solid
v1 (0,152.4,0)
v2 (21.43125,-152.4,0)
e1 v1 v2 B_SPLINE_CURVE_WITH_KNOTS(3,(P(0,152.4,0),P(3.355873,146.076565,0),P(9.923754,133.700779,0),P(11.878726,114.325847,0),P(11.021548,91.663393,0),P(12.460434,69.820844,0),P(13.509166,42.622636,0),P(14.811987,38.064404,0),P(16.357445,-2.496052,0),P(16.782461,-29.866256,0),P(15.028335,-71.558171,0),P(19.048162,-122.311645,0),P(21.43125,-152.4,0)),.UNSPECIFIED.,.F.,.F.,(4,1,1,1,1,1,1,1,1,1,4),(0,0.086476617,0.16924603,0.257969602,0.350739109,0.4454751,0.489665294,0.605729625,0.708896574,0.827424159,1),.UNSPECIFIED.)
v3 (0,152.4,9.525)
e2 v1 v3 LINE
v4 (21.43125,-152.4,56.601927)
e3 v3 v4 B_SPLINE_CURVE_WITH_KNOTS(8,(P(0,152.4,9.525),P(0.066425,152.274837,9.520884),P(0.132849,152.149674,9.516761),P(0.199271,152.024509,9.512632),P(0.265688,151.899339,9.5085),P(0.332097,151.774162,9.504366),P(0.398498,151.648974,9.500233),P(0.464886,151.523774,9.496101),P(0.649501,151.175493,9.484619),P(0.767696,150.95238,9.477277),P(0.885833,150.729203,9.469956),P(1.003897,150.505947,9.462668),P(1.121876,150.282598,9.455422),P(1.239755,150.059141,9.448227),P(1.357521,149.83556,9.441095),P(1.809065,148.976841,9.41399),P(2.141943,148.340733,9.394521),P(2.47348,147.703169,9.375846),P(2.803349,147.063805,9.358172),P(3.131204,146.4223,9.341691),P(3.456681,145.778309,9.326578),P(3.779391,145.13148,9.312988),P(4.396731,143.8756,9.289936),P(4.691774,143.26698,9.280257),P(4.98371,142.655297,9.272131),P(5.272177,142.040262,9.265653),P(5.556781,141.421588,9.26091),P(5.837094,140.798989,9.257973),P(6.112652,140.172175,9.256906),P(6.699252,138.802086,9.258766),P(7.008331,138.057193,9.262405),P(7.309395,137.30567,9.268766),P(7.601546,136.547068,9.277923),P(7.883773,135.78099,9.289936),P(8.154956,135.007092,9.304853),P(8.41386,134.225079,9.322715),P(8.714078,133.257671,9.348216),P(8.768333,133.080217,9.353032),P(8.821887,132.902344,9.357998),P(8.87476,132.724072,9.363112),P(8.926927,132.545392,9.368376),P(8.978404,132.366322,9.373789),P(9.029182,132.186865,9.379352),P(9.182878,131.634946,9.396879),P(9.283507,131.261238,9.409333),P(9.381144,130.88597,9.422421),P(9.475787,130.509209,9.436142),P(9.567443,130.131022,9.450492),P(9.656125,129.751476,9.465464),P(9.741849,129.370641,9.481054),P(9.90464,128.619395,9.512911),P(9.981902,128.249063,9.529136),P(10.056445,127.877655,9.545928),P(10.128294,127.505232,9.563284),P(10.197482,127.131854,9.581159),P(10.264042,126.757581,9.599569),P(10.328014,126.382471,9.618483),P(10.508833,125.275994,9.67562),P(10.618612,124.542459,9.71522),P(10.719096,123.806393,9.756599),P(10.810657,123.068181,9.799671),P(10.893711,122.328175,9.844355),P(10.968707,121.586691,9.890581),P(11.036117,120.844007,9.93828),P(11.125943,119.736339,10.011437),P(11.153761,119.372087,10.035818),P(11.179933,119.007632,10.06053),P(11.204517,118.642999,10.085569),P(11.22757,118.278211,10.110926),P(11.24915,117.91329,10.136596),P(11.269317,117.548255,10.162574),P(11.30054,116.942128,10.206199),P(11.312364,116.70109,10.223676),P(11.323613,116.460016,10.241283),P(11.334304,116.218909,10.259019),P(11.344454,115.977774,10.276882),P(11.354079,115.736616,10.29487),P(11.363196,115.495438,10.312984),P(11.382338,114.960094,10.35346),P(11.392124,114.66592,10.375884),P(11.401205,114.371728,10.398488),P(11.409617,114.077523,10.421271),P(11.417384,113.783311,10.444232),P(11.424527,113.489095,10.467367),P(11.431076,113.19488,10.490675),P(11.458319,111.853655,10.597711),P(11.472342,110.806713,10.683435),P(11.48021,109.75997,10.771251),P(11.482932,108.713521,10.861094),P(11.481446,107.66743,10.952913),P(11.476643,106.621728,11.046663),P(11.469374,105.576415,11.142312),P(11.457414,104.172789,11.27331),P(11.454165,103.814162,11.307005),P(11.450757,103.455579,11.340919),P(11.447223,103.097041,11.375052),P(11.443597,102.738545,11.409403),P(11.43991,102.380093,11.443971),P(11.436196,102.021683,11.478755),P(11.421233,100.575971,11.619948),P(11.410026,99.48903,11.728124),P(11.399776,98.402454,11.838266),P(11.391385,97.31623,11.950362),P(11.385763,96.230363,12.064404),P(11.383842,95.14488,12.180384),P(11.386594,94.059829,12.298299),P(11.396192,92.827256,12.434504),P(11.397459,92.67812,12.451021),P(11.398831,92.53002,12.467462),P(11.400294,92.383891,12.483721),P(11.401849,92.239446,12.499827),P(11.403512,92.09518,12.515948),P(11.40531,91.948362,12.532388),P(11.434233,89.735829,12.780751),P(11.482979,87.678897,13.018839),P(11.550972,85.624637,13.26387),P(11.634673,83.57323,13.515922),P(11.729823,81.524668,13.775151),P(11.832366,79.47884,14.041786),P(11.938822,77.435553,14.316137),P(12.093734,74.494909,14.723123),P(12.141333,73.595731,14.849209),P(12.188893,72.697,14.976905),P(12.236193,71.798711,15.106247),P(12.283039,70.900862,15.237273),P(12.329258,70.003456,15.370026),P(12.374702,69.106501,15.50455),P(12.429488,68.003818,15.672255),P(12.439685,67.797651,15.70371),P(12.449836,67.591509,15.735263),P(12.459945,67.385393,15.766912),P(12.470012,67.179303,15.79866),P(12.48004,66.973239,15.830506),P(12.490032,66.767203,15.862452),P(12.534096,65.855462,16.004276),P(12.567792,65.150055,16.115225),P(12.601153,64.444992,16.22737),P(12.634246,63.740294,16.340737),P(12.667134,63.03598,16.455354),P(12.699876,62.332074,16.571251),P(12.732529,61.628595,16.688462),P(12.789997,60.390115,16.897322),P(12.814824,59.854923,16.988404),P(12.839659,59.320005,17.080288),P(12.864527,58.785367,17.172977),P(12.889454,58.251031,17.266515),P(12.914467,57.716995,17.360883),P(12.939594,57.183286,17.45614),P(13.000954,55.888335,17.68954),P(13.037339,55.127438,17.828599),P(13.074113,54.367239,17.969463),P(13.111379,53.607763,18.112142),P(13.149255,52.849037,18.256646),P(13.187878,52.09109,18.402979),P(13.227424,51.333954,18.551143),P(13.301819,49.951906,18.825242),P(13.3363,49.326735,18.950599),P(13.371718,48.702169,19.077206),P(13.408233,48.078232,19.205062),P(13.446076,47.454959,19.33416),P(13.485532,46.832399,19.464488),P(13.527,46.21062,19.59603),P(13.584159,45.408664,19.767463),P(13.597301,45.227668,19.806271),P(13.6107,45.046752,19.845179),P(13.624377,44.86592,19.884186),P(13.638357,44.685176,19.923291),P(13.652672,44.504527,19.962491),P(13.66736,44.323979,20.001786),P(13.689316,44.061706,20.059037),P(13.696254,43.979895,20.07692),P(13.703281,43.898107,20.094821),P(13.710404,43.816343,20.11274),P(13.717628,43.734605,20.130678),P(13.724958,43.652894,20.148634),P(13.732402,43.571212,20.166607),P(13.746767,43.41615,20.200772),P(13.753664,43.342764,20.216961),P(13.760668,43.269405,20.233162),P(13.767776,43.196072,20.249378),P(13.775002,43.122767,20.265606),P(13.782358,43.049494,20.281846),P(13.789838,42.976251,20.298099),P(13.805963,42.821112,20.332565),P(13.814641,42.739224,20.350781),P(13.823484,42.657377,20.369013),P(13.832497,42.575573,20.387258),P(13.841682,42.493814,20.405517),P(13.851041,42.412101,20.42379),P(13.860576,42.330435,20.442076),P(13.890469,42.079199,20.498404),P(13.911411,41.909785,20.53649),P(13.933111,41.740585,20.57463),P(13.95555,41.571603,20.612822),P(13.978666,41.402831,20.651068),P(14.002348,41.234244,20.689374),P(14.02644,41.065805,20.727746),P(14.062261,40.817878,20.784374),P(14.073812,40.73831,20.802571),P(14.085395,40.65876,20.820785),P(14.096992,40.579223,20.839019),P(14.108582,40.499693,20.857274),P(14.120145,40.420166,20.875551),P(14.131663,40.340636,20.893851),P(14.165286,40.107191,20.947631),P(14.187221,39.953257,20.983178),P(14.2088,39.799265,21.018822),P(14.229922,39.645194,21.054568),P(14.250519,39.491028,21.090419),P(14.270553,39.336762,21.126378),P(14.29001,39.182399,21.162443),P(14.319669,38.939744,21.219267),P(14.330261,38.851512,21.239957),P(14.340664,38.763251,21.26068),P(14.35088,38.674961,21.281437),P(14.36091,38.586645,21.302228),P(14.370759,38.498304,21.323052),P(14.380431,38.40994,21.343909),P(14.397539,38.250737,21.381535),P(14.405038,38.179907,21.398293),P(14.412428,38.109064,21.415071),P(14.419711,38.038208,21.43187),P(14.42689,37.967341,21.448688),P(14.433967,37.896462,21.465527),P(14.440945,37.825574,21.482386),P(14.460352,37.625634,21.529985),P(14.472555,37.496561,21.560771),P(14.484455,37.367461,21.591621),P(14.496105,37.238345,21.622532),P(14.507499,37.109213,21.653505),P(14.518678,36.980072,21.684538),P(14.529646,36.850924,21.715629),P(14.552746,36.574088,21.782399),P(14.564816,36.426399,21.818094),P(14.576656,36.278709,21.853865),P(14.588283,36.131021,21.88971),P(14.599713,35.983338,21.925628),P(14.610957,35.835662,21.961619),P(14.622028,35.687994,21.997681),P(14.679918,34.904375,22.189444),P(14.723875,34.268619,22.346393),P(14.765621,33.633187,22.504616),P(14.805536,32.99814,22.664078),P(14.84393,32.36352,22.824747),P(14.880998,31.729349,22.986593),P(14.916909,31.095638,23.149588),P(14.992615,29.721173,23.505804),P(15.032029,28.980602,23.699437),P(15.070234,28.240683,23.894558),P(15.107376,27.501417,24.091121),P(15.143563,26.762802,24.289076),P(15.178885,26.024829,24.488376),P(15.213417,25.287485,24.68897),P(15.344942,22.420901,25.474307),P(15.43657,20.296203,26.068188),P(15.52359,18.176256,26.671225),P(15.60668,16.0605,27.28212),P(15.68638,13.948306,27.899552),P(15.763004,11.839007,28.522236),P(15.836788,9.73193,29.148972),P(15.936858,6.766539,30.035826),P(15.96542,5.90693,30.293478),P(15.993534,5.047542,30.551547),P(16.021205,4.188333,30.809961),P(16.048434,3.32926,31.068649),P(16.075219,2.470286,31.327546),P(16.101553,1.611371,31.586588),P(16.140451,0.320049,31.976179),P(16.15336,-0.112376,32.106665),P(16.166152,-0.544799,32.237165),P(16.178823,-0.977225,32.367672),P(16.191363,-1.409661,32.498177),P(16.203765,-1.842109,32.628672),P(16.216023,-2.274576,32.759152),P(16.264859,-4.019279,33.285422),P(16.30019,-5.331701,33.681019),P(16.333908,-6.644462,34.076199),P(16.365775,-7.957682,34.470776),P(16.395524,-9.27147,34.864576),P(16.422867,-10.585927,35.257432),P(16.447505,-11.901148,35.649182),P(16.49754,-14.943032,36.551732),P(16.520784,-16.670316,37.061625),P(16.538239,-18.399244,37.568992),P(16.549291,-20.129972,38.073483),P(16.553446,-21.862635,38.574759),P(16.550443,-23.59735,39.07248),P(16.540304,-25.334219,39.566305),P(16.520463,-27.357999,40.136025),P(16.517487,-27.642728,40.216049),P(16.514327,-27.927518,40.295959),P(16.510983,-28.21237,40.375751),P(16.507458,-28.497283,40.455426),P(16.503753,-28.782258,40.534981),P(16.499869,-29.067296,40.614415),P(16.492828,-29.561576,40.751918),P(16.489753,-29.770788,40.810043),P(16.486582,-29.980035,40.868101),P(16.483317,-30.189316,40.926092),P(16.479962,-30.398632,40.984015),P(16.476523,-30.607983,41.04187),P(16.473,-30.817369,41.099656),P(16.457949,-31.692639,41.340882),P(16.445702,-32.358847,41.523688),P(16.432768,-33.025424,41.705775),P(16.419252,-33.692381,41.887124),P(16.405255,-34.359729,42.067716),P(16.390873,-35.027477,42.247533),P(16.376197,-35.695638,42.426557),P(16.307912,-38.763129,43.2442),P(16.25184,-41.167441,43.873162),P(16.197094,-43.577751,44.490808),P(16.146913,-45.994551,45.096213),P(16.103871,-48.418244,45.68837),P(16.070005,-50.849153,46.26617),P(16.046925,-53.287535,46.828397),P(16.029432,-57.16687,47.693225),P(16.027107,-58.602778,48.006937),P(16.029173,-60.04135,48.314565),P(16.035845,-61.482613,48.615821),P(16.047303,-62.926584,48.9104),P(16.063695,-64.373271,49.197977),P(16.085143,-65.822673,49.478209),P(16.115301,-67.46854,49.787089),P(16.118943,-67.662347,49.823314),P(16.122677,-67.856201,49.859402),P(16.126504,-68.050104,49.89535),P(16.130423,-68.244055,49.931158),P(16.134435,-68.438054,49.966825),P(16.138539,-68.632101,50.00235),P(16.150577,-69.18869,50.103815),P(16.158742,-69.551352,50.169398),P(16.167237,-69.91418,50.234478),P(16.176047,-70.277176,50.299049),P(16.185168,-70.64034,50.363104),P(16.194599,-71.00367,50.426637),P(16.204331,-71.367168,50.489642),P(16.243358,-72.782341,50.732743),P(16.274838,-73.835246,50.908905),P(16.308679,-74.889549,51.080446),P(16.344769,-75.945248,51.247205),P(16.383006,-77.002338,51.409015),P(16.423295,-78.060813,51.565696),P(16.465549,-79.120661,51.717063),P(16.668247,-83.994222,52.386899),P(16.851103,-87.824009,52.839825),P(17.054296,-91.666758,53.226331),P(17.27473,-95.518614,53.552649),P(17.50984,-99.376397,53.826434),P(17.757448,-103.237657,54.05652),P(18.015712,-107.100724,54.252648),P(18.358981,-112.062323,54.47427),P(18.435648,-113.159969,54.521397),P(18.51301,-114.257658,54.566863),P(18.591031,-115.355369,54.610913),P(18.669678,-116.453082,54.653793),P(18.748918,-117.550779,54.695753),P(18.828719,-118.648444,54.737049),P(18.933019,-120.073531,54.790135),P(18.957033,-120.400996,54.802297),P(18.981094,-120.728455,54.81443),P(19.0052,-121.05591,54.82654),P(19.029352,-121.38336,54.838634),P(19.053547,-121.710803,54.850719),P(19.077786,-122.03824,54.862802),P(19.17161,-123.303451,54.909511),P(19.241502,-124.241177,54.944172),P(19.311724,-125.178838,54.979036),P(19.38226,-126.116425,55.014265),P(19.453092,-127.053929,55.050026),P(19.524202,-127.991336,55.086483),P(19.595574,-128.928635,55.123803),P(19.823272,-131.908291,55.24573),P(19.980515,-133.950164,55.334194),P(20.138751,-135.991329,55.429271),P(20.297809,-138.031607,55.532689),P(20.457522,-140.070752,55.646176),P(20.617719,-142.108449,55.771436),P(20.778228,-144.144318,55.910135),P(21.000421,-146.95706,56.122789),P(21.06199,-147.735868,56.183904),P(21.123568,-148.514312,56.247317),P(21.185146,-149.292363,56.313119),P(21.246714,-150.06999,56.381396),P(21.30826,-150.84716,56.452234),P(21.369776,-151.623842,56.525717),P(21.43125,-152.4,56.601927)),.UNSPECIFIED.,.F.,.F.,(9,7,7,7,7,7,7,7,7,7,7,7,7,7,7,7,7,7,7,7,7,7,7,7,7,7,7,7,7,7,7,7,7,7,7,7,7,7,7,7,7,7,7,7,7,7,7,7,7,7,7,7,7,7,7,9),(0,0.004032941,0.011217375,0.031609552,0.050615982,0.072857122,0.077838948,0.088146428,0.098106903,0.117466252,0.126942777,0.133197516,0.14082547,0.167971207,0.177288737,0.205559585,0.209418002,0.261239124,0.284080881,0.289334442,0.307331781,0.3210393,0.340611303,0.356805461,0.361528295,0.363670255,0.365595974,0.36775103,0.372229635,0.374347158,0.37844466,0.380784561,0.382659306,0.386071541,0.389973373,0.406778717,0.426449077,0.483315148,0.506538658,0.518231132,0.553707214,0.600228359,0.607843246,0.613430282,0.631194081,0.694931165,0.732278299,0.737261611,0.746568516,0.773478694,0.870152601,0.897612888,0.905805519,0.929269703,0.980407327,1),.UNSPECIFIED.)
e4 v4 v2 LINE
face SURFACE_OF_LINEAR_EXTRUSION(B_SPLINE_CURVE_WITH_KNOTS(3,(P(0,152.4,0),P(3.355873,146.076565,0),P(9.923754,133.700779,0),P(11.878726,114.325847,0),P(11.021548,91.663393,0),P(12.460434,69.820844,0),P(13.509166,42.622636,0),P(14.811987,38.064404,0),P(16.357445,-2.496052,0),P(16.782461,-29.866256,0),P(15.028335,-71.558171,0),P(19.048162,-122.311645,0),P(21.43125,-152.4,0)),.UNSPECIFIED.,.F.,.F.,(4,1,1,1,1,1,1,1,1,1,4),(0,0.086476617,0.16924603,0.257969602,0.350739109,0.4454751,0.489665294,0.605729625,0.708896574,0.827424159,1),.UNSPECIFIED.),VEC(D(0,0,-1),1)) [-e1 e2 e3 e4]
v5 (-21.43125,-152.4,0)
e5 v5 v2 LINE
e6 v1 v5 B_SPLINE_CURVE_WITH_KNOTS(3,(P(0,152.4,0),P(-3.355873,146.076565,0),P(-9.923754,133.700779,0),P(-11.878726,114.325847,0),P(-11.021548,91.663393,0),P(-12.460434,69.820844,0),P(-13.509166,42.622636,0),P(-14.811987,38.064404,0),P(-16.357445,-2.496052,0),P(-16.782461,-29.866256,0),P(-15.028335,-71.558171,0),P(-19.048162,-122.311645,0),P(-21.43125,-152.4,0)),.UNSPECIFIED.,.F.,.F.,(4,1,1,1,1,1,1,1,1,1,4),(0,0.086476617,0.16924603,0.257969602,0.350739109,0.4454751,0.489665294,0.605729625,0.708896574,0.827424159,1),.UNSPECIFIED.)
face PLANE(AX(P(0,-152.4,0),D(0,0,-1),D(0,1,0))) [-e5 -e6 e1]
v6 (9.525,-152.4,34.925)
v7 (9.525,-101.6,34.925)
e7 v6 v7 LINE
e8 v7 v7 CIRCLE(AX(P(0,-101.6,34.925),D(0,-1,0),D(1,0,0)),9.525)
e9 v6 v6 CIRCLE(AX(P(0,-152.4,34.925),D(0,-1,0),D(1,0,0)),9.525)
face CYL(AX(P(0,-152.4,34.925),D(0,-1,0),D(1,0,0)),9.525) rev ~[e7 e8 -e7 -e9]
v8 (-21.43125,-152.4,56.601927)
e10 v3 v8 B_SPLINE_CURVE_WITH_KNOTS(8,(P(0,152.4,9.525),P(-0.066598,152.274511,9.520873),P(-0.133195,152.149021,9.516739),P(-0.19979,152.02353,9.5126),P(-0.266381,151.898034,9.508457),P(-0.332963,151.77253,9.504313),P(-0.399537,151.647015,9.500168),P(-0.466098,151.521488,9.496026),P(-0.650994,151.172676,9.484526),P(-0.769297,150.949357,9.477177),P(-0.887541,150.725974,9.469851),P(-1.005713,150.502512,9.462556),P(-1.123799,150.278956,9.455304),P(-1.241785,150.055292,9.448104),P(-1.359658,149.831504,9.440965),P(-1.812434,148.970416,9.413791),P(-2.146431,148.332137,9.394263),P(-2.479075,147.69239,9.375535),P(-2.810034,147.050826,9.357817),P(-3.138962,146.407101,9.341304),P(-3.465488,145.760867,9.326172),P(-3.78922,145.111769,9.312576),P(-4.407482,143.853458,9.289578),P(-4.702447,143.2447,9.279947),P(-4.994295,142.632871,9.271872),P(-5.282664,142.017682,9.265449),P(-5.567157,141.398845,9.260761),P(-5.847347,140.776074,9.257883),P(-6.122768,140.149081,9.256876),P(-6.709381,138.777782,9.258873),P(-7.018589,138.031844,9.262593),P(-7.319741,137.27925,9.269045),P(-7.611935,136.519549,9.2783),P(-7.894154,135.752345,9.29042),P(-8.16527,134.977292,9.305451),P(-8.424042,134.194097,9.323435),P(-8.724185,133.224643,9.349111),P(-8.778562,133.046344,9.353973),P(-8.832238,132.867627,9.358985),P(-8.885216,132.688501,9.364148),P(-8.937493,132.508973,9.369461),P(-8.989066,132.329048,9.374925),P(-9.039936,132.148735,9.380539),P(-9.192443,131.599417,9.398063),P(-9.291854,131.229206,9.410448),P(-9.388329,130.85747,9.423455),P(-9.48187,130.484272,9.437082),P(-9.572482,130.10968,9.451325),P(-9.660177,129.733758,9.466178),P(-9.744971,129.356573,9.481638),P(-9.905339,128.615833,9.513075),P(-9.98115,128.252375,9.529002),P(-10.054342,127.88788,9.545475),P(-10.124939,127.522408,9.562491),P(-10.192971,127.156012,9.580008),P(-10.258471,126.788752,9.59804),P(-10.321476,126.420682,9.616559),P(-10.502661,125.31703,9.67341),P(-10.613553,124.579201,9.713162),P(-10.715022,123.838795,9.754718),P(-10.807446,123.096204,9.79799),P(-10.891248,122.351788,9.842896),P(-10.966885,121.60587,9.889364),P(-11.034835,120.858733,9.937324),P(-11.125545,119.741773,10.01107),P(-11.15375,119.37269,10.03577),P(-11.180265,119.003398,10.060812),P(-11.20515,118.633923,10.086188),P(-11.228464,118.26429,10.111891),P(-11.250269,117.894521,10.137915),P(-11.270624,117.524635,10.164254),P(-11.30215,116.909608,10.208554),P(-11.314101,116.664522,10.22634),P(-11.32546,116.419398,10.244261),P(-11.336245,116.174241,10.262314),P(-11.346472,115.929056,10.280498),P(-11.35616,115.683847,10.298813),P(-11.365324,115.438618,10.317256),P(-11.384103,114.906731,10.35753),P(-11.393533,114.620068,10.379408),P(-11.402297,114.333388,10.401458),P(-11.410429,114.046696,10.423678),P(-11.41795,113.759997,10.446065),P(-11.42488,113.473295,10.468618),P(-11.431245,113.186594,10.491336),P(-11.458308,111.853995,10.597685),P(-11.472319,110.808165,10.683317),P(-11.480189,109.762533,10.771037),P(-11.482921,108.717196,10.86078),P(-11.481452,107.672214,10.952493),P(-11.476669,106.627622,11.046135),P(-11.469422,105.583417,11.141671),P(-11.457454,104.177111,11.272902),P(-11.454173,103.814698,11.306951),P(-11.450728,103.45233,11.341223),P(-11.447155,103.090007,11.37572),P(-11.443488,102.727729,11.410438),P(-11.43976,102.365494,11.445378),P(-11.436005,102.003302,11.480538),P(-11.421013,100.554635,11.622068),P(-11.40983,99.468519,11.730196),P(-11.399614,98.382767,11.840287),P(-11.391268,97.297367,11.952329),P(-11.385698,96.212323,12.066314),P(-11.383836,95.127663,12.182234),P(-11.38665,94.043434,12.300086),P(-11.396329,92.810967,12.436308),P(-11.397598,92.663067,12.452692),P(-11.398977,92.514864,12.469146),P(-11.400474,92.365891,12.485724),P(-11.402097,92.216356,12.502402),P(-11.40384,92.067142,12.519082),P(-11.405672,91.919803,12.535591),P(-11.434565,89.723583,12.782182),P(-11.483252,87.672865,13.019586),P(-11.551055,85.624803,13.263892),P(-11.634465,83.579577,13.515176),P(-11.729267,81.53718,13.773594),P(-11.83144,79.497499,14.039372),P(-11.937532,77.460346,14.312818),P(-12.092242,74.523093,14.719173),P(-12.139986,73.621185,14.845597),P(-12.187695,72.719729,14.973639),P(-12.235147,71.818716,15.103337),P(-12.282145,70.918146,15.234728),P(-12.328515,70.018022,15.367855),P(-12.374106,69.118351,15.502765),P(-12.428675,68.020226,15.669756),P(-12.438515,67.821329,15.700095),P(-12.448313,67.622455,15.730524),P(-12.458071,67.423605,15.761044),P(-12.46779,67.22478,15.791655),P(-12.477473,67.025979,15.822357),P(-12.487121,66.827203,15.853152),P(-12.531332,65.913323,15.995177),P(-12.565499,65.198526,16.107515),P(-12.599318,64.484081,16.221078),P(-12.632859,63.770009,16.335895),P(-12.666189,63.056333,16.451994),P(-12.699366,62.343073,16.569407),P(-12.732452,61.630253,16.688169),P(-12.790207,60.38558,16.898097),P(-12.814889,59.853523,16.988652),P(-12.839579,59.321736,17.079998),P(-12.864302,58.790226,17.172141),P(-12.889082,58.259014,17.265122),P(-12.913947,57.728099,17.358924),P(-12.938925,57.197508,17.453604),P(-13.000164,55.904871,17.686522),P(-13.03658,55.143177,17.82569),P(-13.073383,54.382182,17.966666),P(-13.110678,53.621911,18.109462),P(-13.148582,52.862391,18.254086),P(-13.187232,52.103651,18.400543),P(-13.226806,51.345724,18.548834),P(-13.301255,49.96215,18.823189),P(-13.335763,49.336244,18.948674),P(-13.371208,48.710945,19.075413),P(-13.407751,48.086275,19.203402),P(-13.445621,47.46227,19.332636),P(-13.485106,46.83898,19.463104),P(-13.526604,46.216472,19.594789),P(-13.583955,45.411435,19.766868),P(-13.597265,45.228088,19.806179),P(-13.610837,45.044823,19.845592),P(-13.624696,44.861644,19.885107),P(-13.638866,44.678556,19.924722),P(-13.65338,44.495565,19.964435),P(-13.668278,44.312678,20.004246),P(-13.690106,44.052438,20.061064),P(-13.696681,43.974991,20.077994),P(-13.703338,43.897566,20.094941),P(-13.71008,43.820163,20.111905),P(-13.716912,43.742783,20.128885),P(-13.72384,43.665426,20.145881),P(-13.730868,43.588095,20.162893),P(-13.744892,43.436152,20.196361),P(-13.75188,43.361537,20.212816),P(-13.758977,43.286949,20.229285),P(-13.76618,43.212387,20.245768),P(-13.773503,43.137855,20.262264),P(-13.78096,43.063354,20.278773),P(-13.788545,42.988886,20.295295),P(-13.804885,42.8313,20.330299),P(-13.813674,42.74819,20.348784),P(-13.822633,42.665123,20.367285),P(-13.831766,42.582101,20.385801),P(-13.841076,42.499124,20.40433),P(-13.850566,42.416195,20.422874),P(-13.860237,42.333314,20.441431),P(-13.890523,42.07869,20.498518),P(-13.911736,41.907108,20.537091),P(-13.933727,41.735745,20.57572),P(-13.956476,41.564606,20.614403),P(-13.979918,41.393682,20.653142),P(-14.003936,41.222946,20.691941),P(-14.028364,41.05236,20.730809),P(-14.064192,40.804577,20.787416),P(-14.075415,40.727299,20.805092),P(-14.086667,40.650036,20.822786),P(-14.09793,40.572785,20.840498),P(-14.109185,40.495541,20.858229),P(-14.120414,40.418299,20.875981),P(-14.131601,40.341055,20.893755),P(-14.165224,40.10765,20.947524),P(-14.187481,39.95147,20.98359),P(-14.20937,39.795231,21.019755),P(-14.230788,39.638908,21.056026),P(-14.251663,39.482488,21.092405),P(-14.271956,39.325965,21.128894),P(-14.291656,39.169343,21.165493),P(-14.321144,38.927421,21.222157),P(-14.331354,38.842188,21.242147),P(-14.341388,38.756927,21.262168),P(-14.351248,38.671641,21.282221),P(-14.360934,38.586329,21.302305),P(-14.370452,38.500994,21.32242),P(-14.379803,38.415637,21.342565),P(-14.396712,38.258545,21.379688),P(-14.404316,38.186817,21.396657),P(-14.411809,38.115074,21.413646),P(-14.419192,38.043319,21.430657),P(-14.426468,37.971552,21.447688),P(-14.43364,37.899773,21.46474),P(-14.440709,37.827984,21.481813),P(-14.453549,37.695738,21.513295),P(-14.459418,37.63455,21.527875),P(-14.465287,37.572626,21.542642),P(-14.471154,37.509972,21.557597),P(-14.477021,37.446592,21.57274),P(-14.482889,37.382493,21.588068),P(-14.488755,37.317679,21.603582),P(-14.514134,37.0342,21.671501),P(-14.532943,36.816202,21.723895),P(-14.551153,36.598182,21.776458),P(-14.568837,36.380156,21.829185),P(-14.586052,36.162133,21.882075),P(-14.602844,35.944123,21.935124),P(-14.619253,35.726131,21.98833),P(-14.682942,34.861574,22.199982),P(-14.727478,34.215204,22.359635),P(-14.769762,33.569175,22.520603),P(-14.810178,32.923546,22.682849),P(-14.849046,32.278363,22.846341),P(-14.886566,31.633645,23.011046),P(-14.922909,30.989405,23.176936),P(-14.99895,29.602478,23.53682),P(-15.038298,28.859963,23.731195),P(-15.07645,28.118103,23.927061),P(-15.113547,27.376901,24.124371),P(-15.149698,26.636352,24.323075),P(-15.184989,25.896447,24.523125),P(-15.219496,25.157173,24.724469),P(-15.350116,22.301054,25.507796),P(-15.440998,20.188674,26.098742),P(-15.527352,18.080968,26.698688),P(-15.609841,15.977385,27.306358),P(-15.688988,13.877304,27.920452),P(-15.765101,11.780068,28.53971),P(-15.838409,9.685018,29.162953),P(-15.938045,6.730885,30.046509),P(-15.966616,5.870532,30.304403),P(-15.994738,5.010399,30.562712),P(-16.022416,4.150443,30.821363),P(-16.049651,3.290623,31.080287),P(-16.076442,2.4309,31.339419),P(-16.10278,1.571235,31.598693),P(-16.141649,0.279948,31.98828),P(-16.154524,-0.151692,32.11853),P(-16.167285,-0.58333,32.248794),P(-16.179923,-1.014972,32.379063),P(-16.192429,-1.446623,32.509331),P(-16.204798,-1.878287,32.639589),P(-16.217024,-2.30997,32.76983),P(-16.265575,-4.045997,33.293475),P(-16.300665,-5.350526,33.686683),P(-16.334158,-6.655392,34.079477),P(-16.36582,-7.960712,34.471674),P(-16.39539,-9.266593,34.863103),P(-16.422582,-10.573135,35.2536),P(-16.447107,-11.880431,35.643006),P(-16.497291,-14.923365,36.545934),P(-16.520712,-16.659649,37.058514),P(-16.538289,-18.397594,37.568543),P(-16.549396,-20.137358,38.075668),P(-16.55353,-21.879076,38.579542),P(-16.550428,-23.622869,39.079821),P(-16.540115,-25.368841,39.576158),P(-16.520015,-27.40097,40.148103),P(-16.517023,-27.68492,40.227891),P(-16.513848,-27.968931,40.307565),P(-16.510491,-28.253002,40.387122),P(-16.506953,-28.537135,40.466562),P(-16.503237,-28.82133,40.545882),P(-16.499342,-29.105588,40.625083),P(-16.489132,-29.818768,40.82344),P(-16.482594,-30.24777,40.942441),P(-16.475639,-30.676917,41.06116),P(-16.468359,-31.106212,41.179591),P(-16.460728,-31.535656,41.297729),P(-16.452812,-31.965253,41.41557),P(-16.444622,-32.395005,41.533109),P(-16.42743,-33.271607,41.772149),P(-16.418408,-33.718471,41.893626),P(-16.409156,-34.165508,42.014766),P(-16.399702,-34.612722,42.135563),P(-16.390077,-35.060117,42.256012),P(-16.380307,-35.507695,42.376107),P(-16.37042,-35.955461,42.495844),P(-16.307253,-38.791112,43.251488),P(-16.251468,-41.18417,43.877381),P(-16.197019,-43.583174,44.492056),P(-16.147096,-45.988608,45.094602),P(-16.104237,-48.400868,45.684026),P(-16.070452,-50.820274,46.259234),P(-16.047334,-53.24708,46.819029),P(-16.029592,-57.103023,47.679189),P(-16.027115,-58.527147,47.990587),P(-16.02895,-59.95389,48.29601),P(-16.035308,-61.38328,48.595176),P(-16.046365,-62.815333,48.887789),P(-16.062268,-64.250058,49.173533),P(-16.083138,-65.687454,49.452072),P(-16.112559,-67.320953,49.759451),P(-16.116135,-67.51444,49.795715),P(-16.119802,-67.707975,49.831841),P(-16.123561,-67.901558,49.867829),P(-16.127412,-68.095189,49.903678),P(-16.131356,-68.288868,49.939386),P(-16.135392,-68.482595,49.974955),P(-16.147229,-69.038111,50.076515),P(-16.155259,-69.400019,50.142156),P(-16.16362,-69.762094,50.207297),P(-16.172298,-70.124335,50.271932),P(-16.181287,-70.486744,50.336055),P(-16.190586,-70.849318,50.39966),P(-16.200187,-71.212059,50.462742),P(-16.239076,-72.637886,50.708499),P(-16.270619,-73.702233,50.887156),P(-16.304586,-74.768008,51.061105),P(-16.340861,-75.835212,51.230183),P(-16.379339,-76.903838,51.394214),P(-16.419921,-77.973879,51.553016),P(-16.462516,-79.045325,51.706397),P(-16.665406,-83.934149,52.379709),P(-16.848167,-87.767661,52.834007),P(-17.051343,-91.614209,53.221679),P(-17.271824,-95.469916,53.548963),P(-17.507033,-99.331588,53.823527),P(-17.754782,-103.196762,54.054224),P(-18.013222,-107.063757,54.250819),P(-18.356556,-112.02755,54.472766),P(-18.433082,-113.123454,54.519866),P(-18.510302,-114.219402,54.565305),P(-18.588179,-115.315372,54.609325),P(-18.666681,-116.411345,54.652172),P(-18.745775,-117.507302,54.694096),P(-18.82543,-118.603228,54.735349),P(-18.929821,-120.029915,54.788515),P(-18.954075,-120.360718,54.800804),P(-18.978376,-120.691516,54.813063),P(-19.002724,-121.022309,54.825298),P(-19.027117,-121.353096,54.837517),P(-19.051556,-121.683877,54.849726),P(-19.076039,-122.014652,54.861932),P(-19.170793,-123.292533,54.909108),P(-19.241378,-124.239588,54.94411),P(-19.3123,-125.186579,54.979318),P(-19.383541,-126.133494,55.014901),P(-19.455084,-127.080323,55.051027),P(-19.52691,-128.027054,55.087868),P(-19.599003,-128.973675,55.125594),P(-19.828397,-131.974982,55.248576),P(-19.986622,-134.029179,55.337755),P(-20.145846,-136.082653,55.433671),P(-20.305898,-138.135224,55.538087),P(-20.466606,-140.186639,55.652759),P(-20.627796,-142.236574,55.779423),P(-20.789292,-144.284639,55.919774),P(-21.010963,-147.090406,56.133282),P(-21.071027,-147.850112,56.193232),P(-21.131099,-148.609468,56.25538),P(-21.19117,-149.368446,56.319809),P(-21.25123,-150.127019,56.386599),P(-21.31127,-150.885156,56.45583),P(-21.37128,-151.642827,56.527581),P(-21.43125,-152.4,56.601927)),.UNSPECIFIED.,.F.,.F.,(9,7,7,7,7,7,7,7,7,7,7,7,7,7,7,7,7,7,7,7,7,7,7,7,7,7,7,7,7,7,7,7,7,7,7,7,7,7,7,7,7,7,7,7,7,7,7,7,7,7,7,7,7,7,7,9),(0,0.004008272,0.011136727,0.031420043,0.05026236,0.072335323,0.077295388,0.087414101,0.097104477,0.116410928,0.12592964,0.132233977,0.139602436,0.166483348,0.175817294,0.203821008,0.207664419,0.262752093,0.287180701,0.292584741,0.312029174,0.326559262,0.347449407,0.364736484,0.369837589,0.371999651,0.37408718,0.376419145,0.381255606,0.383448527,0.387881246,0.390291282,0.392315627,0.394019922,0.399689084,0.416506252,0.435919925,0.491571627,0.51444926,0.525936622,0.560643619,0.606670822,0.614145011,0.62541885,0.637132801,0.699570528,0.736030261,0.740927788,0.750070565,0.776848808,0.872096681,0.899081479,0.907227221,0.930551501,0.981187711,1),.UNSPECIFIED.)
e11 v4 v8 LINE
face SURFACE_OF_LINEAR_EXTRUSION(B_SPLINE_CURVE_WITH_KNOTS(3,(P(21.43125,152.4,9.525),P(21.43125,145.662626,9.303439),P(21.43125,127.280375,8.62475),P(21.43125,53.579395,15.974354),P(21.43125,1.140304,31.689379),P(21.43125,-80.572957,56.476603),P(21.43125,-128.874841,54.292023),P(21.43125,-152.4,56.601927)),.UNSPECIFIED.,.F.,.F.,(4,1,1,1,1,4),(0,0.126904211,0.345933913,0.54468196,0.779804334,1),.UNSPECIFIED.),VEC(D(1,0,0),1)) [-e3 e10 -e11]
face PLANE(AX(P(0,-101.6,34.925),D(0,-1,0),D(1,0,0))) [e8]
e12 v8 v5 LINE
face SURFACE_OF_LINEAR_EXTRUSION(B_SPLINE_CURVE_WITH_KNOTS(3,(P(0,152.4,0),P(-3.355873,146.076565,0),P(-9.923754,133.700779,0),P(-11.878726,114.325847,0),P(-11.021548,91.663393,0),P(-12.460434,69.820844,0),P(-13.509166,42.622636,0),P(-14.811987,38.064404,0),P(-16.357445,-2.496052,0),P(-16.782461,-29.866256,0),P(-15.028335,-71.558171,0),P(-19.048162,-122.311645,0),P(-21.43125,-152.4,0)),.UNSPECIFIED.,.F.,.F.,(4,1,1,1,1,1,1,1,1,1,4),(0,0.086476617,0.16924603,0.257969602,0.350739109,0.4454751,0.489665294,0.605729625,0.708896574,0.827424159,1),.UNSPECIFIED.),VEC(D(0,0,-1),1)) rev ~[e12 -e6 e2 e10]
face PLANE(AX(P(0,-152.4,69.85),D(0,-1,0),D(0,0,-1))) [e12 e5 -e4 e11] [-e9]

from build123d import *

# Parameters (mm, degrees)
F1_DEPTH = 21.43125
F2_R     = 9.525
F3_DEPTH = 50.8
F6_DEPTH = 42.8625
F7_DEPTH = 56.6029267844


with BuildPart() as f1:
    # F0 (on Right) → F1 (new body, symmetric)
    with BuildSketch(Plane.YZ):
        Polygon((-152.4, 69.85), (-152.4, 0), (152.4, 0), (152.4, 19.05), align=None)
    extrude(amount=F1_DEPTH, both=True)

    # F2 (on face) → F3 (cut)
    with BuildSketch(Plane.XZ.offset(152.4)):
        with Locations((0, 34.925)):
            Circle(F2_R)
    extrude(amount=-F3_DEPTH, mode=Mode.SUBTRACT)

    # F4 (on face) → F6 (cut, through all)
    with BuildSketch(Plane.YZ.offset(21.43125)):
        with BuildLine():
            add(Edge.make_bspline(
                [(152.4, 9.525), (145.6626264039, 9.3034385089), (127.280375047, 8.6247502943), (53.5793953216, 15.9743535222), (1.1403037634, 31.6893786789), (-80.5729571952, 56.4766030906), (-128.8748406327, 54.2920234152), (-152.4, 56.6019266844)],
                knots=[0, 0, 0, 0, 0.1269042114, 0.3459339129, 0.5446819601, 0.7798043344, 1, 1, 1, 1], degree=3))
            Line((152.4, 9.525), (152.4, 19.05))
            Line((152.4, 19.05), (-152.4, 69.85))
            Line((-152.4, 69.85), (-152.4, 56.6019266844))
        make_face()
    extrude(amount=-F6_DEPTH, mode=Mode.SUBTRACT)

    # F5 (on face) → F7 (cut, through all)
    with BuildSketch(Plane(origin=(0, 0, 0), x_dir=(1, 0, 0), z_dir=(0, 0, -1))):
        with BuildLine():
            Line((-21.43125, -152.4), (0, -152.4))
            add(Edge.make_bspline(
                [(0, -152.4), (-3.3558727394, -146.0765654935), (-9.9237538335, -133.7007785762), (-11.8787256678, -114.3258473013), (-11.0215482181, -91.6633926102), (-12.4604341506, -69.8208444493), (-13.5091656689, -42.6226360553), (-14.8119868837, -38.0644041176), (-16.3574454916, 2.4960515253), (-16.782460798, 29.866255958), (-15.0283347148, 71.5581711335), (-19.0481620175, 122.3116445749), (-21.43125, 152.4)],
                knots=[0, 0, 0, 0, 0.0864766171, 0.1692460301, 0.2579696017, 0.3507391087, 0.4454750995, 0.4896652941, 0.6057296254, 0.708896574, 0.8274241593, 1, 1, 1, 1], degree=3))
            Line((-21.43125, 152.4), (-21.43125, -152.4))
        make_face()
        with BuildLine():
            add(Edge.make_bspline(
                [(0, -152.4), (3.3558727394, -146.0765654935), (9.9237538335, -133.7007785762), (11.8787256678, -114.3258473013), (11.0215482181, -91.6633926102), (12.4604341506, -69.8208444493), (13.5091656689, -42.6226360553), (14.8119868837, -38.0644041176), (16.3574454916, 2.4960515253), (16.782460798, 29.866255958), (15.0283347148, 71.5581711335), (19.0481620175, 122.3116445749), (21.43125, 152.4)],
                knots=[0, 0, 0, 0, 0.0864766171, 0.1692460301, 0.2579696017, 0.3507391087, 0.4454750995, 0.4896652941, 0.6057296254, 0.708896574, 0.8274241593, 1, 1, 1, 1], degree=3))
            Line((0, -152.4), (21.43125, -152.4))
            Line((21.43125, -152.4), (21.43125, 152.4))
        make_face()
    extrude(amount=-F7_DEPTH, mode=Mode.SUBTRACT)


solid = f1.part
